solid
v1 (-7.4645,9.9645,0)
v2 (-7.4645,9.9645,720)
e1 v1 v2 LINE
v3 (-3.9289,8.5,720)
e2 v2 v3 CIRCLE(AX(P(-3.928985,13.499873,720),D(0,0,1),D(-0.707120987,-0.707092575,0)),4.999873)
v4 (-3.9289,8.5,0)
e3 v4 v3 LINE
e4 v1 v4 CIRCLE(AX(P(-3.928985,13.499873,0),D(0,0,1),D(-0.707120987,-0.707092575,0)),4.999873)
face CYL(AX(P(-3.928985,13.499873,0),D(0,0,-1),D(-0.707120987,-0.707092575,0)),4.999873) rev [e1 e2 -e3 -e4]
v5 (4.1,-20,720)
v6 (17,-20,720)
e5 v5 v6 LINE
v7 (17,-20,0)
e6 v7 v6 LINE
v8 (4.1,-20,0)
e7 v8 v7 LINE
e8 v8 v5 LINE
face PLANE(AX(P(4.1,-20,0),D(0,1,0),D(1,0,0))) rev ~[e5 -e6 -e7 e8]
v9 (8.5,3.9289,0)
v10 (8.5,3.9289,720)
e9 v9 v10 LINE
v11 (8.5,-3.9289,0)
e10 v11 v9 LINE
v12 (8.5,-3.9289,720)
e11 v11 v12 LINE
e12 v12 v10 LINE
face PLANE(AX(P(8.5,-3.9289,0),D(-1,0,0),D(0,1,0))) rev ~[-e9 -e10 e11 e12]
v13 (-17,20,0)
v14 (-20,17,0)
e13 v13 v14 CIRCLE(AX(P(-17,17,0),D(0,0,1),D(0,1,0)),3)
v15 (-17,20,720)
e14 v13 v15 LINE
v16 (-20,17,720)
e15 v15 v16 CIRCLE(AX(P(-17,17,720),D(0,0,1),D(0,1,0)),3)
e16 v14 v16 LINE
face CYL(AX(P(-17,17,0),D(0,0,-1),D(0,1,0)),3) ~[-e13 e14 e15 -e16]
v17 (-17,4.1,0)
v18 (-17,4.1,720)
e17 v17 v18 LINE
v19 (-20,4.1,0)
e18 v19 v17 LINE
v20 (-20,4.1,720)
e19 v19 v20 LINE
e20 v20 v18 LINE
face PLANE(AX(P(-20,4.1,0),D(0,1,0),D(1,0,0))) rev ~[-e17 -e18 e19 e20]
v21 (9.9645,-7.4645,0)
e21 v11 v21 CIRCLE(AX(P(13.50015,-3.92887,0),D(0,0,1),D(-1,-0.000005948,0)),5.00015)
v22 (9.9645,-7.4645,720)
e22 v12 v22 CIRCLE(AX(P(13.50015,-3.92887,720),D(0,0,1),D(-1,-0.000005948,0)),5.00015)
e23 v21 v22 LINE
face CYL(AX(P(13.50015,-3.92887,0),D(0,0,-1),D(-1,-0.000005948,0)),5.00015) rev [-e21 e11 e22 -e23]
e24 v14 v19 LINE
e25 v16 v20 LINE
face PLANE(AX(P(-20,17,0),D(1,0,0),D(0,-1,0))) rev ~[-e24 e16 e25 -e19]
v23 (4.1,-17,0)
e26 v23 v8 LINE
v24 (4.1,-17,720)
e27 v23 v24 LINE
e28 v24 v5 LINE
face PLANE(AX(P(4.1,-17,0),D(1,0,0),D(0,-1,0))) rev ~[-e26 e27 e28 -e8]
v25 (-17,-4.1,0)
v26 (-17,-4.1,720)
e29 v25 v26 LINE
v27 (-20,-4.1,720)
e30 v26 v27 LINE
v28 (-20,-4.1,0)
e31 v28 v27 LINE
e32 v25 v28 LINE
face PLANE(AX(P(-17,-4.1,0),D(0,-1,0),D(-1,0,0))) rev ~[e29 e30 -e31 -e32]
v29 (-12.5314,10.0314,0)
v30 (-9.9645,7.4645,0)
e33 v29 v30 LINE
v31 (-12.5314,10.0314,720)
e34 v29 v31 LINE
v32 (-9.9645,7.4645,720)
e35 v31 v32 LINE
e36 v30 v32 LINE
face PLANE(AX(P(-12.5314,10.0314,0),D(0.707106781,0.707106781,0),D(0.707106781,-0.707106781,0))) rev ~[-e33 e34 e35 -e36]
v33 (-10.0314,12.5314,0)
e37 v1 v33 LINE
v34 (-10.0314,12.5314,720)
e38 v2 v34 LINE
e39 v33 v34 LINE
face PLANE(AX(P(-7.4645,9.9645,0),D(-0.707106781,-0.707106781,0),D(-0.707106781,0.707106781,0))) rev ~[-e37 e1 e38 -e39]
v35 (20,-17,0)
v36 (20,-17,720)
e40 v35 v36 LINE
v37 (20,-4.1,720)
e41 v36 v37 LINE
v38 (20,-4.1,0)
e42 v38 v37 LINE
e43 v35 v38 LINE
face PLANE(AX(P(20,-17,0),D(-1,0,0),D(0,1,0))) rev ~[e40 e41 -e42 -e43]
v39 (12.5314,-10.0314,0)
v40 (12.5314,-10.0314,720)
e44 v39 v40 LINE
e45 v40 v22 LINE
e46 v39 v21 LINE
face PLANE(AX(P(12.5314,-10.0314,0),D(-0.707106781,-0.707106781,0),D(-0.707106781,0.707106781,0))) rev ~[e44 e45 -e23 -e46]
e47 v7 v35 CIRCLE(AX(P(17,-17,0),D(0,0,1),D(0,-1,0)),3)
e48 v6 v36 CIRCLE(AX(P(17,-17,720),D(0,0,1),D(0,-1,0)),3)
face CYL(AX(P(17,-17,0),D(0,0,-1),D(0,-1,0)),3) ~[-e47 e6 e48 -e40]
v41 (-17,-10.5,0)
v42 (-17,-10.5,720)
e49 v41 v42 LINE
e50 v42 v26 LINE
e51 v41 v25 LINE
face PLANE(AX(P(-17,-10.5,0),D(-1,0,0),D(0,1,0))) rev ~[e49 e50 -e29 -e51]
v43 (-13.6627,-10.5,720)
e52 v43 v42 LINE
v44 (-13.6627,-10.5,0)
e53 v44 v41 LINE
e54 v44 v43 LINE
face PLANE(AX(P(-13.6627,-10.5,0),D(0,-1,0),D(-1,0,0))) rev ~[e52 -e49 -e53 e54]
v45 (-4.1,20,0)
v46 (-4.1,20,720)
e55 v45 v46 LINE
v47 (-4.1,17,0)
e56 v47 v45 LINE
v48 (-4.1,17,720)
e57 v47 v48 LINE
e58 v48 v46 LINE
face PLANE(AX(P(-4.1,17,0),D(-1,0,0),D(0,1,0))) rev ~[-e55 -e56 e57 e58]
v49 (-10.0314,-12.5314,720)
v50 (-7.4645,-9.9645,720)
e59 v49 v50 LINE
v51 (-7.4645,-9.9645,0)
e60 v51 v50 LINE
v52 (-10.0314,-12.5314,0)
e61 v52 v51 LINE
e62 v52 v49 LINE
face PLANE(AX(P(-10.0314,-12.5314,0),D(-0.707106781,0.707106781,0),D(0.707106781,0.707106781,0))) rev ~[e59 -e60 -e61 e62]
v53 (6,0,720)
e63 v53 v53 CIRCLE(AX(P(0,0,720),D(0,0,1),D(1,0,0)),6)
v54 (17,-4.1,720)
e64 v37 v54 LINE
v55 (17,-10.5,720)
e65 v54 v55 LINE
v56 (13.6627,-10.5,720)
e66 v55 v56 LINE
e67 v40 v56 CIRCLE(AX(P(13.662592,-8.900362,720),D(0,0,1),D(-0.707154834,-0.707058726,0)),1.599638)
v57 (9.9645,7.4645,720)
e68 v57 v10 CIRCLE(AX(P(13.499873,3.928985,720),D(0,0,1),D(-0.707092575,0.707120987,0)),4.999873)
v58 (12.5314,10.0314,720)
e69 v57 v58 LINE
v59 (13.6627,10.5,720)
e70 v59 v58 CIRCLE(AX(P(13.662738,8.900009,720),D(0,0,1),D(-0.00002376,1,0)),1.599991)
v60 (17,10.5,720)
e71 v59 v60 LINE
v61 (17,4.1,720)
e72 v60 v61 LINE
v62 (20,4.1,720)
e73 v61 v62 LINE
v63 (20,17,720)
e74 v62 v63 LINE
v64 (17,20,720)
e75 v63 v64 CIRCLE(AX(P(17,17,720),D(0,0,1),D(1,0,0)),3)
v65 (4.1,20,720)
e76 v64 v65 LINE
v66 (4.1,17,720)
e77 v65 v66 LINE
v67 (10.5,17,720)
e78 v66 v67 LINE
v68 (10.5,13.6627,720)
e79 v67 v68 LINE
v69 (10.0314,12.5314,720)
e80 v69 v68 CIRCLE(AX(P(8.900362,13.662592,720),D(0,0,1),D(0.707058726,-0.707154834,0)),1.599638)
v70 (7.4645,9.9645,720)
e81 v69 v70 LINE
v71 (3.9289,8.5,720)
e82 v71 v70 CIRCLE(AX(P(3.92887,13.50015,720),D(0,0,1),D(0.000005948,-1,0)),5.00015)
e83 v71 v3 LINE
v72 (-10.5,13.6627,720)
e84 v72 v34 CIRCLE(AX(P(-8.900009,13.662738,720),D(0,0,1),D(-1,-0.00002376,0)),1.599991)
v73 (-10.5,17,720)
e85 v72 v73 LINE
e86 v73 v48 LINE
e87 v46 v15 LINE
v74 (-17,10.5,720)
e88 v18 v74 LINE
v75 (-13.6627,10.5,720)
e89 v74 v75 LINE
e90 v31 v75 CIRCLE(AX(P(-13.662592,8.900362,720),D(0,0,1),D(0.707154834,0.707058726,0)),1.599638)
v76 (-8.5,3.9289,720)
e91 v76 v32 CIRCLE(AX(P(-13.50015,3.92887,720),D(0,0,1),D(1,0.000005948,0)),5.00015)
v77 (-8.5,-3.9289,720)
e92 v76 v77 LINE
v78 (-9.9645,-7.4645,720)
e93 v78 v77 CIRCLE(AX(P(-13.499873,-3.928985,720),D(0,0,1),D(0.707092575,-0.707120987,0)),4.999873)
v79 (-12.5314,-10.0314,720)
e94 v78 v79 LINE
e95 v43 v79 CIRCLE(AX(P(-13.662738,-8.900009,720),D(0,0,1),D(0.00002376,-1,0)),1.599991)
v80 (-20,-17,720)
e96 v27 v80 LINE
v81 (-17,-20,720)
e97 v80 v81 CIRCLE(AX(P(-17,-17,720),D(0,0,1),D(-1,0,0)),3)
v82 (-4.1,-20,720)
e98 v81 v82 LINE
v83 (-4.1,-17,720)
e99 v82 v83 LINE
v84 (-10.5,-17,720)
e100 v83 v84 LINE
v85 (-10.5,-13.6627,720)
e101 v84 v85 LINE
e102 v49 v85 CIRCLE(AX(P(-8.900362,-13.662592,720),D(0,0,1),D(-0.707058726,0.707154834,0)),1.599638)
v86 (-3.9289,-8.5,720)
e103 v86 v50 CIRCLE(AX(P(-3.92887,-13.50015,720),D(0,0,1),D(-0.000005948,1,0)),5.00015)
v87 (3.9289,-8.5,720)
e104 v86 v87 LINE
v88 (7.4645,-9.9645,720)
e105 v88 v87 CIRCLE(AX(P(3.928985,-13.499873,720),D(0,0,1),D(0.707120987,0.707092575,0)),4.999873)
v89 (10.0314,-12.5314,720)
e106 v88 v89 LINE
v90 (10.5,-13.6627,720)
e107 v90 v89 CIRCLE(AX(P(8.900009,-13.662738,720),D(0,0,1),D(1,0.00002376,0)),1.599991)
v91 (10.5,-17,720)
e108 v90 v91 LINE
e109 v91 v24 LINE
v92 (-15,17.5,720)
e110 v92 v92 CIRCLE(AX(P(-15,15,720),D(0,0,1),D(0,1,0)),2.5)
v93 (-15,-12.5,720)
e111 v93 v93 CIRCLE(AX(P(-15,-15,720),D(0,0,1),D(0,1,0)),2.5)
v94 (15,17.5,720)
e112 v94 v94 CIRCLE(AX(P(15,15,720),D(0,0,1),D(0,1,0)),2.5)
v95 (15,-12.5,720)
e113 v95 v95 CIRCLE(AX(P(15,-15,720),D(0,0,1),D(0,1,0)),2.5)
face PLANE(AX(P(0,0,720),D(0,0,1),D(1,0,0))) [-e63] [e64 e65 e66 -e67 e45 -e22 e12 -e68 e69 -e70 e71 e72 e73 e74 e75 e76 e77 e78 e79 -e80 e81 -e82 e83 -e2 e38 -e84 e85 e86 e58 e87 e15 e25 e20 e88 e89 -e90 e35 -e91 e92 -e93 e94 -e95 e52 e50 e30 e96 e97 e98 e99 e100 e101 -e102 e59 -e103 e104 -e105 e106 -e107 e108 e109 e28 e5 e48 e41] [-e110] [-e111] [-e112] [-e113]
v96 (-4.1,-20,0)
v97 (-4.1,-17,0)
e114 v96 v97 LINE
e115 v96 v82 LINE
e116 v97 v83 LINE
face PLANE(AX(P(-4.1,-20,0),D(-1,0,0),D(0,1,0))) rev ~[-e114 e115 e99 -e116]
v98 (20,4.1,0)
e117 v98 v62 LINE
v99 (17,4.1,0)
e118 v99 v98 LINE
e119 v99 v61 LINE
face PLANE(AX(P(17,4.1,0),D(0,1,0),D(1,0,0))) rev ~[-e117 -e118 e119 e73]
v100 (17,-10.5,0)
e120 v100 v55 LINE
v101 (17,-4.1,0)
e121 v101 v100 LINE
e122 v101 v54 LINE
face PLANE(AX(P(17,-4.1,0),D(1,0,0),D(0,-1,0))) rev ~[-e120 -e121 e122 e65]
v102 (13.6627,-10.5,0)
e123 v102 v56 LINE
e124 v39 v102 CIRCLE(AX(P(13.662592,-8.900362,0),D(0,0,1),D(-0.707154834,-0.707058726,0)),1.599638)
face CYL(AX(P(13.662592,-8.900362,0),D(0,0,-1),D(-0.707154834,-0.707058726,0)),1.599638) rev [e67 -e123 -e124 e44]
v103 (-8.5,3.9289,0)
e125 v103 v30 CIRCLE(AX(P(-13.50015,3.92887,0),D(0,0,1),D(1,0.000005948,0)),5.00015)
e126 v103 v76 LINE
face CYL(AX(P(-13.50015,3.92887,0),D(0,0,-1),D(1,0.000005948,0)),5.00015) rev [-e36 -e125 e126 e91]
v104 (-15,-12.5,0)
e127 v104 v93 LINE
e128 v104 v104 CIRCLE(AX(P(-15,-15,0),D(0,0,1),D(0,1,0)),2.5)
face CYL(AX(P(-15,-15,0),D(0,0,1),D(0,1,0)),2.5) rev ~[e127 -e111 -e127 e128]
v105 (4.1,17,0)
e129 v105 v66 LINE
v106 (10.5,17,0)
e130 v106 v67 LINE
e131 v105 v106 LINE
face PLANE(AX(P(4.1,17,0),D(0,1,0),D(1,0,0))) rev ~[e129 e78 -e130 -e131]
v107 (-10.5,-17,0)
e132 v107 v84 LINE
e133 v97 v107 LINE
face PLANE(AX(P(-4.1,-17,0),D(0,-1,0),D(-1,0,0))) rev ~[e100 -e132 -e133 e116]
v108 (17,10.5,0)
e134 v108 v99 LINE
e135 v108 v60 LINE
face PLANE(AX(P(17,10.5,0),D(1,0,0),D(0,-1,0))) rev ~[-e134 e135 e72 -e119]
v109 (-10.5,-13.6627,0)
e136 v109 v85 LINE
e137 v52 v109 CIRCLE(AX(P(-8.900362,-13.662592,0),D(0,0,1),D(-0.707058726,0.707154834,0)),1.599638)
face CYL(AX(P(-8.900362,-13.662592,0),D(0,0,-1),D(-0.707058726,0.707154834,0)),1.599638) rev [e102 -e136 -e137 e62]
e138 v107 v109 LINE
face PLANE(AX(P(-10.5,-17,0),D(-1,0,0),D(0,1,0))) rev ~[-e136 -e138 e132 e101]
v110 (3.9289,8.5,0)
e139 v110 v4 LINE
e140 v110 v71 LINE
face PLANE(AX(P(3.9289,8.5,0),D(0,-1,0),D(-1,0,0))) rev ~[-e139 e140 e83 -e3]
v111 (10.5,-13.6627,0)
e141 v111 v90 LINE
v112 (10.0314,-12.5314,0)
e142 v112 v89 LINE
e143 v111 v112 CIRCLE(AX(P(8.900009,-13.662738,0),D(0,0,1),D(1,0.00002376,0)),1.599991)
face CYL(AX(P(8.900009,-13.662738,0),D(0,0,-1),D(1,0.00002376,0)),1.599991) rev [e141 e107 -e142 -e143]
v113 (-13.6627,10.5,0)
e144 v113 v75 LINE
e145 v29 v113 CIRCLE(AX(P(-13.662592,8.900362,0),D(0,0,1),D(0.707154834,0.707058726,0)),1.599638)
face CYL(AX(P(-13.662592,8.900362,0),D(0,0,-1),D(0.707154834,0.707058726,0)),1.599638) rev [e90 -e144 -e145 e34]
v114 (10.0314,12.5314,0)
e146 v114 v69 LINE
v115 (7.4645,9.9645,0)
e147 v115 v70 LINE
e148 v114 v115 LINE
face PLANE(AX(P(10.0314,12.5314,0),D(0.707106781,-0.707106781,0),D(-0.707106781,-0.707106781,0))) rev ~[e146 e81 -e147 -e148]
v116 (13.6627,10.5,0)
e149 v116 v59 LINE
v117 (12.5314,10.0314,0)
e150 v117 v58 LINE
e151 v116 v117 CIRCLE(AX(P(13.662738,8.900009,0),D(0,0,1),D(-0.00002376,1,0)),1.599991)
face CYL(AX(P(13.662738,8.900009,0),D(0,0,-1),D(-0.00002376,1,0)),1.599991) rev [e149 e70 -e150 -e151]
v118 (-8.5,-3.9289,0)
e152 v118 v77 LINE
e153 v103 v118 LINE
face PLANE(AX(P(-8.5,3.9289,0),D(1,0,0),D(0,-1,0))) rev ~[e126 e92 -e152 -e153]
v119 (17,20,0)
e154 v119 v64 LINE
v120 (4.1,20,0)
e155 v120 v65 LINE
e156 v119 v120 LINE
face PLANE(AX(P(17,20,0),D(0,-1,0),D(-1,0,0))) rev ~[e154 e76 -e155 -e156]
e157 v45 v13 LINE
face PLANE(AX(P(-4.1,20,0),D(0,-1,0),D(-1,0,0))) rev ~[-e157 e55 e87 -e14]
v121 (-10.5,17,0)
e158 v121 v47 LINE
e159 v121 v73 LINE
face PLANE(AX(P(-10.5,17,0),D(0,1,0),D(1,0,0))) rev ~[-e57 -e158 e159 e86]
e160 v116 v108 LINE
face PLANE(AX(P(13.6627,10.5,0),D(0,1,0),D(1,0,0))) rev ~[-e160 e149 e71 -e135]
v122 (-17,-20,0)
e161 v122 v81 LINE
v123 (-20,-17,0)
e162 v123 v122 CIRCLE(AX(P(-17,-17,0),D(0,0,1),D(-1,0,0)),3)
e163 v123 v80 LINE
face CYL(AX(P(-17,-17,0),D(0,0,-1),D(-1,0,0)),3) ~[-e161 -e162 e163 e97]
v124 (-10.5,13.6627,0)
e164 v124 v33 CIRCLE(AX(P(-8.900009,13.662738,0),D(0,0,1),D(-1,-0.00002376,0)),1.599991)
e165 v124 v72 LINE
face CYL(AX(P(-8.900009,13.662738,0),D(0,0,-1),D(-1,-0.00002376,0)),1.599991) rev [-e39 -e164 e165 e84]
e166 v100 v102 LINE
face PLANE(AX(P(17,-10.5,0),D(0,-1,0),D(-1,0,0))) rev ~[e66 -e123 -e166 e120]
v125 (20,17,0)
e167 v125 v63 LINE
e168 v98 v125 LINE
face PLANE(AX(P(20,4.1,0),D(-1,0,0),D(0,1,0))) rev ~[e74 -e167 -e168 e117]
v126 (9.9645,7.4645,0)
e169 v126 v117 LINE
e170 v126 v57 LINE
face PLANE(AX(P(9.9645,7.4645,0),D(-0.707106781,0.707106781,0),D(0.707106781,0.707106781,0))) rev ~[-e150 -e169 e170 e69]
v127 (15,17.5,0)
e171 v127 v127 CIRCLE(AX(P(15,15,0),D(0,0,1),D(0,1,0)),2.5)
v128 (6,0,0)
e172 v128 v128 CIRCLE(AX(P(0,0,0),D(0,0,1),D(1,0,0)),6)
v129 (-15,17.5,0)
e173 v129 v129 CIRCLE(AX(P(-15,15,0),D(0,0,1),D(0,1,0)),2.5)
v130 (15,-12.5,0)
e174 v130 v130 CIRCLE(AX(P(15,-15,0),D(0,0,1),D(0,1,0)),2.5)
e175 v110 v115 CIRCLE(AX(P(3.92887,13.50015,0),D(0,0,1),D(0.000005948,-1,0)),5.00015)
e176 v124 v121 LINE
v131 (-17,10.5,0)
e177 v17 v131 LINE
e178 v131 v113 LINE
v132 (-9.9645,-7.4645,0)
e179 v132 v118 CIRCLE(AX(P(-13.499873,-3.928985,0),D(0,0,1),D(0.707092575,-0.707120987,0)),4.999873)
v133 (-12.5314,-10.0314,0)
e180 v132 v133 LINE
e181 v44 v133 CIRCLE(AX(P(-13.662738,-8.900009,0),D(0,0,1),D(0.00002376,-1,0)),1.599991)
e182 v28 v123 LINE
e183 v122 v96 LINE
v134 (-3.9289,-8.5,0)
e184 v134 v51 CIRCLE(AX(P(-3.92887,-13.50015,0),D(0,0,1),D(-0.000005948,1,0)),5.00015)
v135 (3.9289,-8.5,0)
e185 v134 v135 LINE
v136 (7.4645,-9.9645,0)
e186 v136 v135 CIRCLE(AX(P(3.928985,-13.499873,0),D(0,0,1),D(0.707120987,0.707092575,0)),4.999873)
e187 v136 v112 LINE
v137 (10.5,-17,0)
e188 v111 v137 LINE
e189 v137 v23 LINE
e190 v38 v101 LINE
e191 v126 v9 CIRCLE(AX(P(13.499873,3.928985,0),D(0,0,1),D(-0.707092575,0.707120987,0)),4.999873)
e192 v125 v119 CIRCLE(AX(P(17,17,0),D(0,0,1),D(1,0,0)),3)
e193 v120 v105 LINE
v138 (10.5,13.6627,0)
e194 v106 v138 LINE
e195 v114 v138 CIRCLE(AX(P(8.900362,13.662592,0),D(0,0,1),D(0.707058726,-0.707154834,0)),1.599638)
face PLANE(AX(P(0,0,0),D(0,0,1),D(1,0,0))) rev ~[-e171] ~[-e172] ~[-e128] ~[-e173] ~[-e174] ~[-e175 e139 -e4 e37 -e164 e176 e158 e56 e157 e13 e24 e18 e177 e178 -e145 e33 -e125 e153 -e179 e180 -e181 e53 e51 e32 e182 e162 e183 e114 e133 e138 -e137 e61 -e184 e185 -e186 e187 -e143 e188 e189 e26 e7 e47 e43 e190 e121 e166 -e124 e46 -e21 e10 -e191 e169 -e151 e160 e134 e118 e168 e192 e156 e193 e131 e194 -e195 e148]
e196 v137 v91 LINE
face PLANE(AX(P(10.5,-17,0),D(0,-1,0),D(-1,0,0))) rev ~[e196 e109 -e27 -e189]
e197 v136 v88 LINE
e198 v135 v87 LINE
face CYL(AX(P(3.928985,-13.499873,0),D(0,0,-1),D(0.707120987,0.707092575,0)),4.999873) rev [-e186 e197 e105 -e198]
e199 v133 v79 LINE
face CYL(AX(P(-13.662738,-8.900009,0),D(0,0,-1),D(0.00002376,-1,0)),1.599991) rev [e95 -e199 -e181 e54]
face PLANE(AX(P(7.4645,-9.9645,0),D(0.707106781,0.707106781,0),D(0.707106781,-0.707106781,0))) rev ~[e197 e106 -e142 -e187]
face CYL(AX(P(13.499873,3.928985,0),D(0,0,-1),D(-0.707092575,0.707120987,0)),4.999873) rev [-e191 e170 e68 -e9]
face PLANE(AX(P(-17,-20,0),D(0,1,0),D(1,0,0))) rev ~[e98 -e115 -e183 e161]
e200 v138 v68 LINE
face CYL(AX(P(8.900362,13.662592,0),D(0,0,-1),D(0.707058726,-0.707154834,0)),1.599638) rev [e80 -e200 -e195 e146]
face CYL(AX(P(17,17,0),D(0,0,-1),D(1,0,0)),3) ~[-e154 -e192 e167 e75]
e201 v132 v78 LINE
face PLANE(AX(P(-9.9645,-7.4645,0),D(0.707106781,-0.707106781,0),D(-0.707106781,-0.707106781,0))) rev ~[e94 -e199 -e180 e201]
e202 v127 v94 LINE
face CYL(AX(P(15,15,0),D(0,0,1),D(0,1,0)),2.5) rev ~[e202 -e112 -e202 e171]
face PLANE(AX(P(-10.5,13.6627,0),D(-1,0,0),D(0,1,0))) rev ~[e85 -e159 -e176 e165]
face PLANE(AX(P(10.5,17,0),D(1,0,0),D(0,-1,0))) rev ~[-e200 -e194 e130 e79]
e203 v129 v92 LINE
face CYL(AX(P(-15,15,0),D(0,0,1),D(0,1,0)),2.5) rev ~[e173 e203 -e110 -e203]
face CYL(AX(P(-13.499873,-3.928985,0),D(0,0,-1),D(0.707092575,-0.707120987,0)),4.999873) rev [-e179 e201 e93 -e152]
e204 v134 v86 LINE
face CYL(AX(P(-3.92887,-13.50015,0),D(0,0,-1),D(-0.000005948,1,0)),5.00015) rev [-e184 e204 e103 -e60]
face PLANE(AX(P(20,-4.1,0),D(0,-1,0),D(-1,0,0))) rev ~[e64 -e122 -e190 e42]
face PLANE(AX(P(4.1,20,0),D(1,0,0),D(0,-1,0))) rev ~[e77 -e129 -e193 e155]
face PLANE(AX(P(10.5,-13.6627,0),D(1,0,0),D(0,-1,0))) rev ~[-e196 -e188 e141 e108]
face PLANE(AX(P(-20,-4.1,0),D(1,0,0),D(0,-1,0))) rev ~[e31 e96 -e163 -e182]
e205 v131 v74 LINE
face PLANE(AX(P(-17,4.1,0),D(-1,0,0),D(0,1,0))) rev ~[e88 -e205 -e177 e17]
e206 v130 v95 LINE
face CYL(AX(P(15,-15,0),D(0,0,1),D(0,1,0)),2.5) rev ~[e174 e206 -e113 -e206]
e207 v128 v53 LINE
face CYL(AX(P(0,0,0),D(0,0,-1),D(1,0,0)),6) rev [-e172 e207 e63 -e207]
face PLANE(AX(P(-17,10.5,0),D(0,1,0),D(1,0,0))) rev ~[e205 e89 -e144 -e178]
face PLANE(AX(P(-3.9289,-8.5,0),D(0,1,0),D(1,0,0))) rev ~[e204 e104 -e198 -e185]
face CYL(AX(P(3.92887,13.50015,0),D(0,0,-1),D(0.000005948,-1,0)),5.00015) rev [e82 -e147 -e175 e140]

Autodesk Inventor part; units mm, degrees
sketch "Skizze_1" plane through (0, 0, 0) normal (0, 0, 1) x (1, 0, 0)
  arc A0 (-20, -17) -> (-17, -20) centre (-17, -17) ccw
  line L0 (-17, -20) -> (-4.1, -20)
  line L1 (-4.1, -20) -> (-4.1, -17)
  line L2 (-4.1, -17) -> (-10.5, -17)
  line L3 (-10.5, -17) -> (-10.5, -13.6627)
  arc A1 (-10.0314, -12.5314) -> (-10.5, -13.6627) centre (-8.9002, -13.6627) ccw
  line L4 (-10.0314, -12.5314) -> (-7.4645, -9.9645)
  arc A2 (-3.9289, -8.5) -> (-7.4645, -9.9645) centre (-3.9289, -13.5) ccw
  line L5 (-3.9289, -8.5) -> (3.9289, -8.5)
  arc A3 (7.4645, -9.9645) -> (3.9289, -8.5) centre (3.9289, -13.5) ccw
  line L6 (7.4645, -9.9645) -> (10.0314, -12.5314)
  arc A4 (10.5, -13.6627) -> (10.0314, -12.5314) centre (8.9002, -13.6627) ccw
  line L7 (10.5, -13.6627) -> (10.5, -17)
  line L8 (10.5, -17) -> (4.1, -17)
  line L9 (4.1, -17) -> (4.1, -20)
  line L10 (4.1, -20) -> (17, -20)
  arc A5 (17, -20) -> (20, -17) centre (17, -17) ccw
  line L11 (20, -17) -> (20, -4.1)
  line L12 (20, -4.1) -> (17, -4.1)
  line L13 (17, -4.1) -> (17, -10.5)
  line L14 (17, -10.5) -> (13.6627, -10.5)
  arc A6 (12.5314, -10.0314) -> (13.6627, -10.5) centre (13.6627, -8.9002) ccw
  line L15 (12.5314, -10.0314) -> (9.9645, -7.4645)
  arc A7 (8.5, -3.9289) -> (9.9645, -7.4645) centre (13.5, -3.9289) ccw
  line L16 (8.5, -3.9289) -> (8.5, 3.9289)
  arc A8 (9.9645, 7.4645) -> (8.5, 3.9289) centre (13.5, 3.9289) ccw
  line L17 (9.9645, 7.4645) -> (12.5314, 10.0314)
  arc A9 (13.6627, 10.5) -> (12.5314, 10.0314) centre (13.6627, 8.9002) ccw
  line L18 (13.6627, 10.5) -> (17, 10.5)
  line L19 (17, 10.5) -> (17, 4.1)
  line L20 (17, 4.1) -> (20, 4.1)
  line L21 (20, 4.1) -> (20, 17)
  arc A10 (20, 17) -> (17, 20) centre (17, 17) ccw
  line L22 (17, 20) -> (4.1, 20)
  line L23 (4.1, 20) -> (4.1, 17)
  line L24 (4.1, 17) -> (10.5, 17)
  line L25 (10.5, 17) -> (10.5, 13.6627)
  arc A11 (10.0314, 12.5314) -> (10.5, 13.6627) centre (8.9002, 13.6627) ccw
  line L26 (10.0314, 12.5314) -> (7.4645, 9.9645)
  arc A12 (3.9289, 8.5) -> (7.4645, 9.9645) centre (3.9289, 13.5) ccw
  line L27 (3.9289, 8.5) -> (-3.9289, 8.5)
  arc A13 (-7.4645, 9.9645) -> (-3.9289, 8.5) centre (-3.9289, 13.5) ccw
  line L28 (-7.4645, 9.9645) -> (-10.0314, 12.5314)
  arc A14 (-10.5, 13.6627) -> (-10.0314, 12.5314) centre (-8.9002, 13.6627) ccw
  line L29 (-10.5, 13.6627) -> (-10.5, 17)
  line L30 (-10.5, 17) -> (-4.1, 17)
  line L31 (-4.1, 17) -> (-4.1, 20)
  line L32 (-4.1, 20) -> (-17, 20)
  arc A15 (-17, 20) -> (-20, 17) centre (-17, 17) ccw
  line L33 (-20, 17) -> (-20, 4.1)
  line L34 (-20, 4.1) -> (-17, 4.1)
  line L35 (-17, 4.1) -> (-17, 10.5)
  line L36 (-17, 10.5) -> (-13.6627, 10.5)
  arc A16 (-12.5314, 10.0314) -> (-13.6627, 10.5) centre (-13.6627, 8.9002) ccw
  line L37 (-12.5314, 10.0314) -> (-9.9645, 7.4645)
  arc A17 (-8.5, 3.9289) -> (-9.9645, 7.4645) centre (-13.5, 3.9289) ccw
  line L38 (-8.5, 3.9289) -> (-8.5, -3.9289)
  arc A18 (-9.9645, -7.4645) -> (-8.5, -3.9289) centre (-13.5, -3.9289) ccw
  line L39 (-9.9645, -7.4645) -> (-12.5314, -10.0314)
  arc A19 (-13.6627, -10.5) -> (-12.5314, -10.0314) centre (-13.6627, -8.9002) ccw
  line L40 (-13.6627, -10.5) -> (-17, -10.5)
  line L41 (-17, -10.5) -> (-17, -4.1)
  line L42 (-17, -4.1) -> (-20, -4.1)
  line L43 (-20, -4.1) -> (-20, -17)
  circle A20 centre (0, 0) radius 6
extrude "Extrusion1" add sketch "Skizze_1" along normal blind 720
sketch "Sketch2" plane through (0, 0, 0) normal (0, 0, -1) x (1, 0, 0)
  point P0 (-15, -15)
hole "Drilling 1" at (-15, 15, 0) direction (0, 0, 1) diameter 5 depth 6000
sketch "Sketch3" plane through (0, 0, 0) normal (0, 0, -1) x (1, 0, 0)
  point P0 (15, -15)
hole "Drilling 2" at (15, 15, 0) direction (0, 0, 1) diameter 5 depth 6000
sketch "Sketch4" plane through (0, 0, 0) normal (0, 0, -1) x (1, 0, 0)
  point P0 (15, 15)
hole "Drilling 3" at (15, -15, 0) direction (0, 0, 1) diameter 5 depth 6000
sketch "Sketch5" plane through (0, 0, 0) normal (0, 0, -1) x (1, 0, 0)
  point P0 (-15, 15)
hole "Drilling 4" at (-15, -15, 0) direction (0, 0, 1) diameter 5 depth 6000
ref_plane "side_4d_XY" through (-20, 0, -330) normal (-1, 0, 0) x (0, 1, 0)
ref_plane "side_4d_YZ" through (-20, 0, -330) normal (0, 1, 0) x (0, 0, -1)
ref_plane "side_4d_ZX" through (-20, 0, -330) normal (0, 0, -1) x (-1, 0, 0)
ref_plane "side_1a_XY" through (0, 20, -330) normal (0, 1, 0) x (1, 0, 0)
ref_plane "side_1a_YZ" through (0, 20, -330) normal (1, 0, 0) x (0, 0, -1)
ref_plane "side_1a_ZX" through (0, 20, -330) normal (0, 0, -1) x (0, 1, 0)
ref_plane "side_2b_XY" through (20, 0, -330) normal (1, 0, 0) x (0, -1, 0)
ref_plane "side_2b_YZ" through (20, 0, -330) normal (0, -1, 0) x (0, 0, -1)
ref_plane "side_2b_ZX" through (20, 0, -330) normal (0, 0, -1) x (1, 0, 0)
ref_plane "side_3c_XY" through (0, -20, -330) normal (0, -1, 0) x (-1, 0, 0)
ref_plane "side_3c_YZ" through (0, -20, -330) normal (-1, 0, 0) x (0, 0, -1)
ref_plane "side_3c_ZX" through (0, -20, -330) normal (0, 0, -1) x (0, -1, 0)
ref_plane "end_XY" through (0, 0, -660) normal (0, 0, -1) x (1, 0, 0)
ref_plane "end_YZ" through (0, 0, -660) normal (1, 0, 0) x (0, -1, 0)
ref_plane "end_ZX" through (0, 0, -660) normal (0, -1, 0) x (0, 0, -1)
ref_plane "start_XY" through (0, 0, 0) normal (0, 0, 1) x (1, 0, 0)
ref_plane "start_YZ" through (0, 0, 0) normal (1, 0, 0) x (0, 1, 0)
ref_plane "start_ZX" through (0, 0, 0) normal (0, 1, 0) x (0, 0, 1)
properties part number "MayTec 1.11.040040.43S_Profile 40x40, 4E, S_660_Detail_(0;0,0,0)"
